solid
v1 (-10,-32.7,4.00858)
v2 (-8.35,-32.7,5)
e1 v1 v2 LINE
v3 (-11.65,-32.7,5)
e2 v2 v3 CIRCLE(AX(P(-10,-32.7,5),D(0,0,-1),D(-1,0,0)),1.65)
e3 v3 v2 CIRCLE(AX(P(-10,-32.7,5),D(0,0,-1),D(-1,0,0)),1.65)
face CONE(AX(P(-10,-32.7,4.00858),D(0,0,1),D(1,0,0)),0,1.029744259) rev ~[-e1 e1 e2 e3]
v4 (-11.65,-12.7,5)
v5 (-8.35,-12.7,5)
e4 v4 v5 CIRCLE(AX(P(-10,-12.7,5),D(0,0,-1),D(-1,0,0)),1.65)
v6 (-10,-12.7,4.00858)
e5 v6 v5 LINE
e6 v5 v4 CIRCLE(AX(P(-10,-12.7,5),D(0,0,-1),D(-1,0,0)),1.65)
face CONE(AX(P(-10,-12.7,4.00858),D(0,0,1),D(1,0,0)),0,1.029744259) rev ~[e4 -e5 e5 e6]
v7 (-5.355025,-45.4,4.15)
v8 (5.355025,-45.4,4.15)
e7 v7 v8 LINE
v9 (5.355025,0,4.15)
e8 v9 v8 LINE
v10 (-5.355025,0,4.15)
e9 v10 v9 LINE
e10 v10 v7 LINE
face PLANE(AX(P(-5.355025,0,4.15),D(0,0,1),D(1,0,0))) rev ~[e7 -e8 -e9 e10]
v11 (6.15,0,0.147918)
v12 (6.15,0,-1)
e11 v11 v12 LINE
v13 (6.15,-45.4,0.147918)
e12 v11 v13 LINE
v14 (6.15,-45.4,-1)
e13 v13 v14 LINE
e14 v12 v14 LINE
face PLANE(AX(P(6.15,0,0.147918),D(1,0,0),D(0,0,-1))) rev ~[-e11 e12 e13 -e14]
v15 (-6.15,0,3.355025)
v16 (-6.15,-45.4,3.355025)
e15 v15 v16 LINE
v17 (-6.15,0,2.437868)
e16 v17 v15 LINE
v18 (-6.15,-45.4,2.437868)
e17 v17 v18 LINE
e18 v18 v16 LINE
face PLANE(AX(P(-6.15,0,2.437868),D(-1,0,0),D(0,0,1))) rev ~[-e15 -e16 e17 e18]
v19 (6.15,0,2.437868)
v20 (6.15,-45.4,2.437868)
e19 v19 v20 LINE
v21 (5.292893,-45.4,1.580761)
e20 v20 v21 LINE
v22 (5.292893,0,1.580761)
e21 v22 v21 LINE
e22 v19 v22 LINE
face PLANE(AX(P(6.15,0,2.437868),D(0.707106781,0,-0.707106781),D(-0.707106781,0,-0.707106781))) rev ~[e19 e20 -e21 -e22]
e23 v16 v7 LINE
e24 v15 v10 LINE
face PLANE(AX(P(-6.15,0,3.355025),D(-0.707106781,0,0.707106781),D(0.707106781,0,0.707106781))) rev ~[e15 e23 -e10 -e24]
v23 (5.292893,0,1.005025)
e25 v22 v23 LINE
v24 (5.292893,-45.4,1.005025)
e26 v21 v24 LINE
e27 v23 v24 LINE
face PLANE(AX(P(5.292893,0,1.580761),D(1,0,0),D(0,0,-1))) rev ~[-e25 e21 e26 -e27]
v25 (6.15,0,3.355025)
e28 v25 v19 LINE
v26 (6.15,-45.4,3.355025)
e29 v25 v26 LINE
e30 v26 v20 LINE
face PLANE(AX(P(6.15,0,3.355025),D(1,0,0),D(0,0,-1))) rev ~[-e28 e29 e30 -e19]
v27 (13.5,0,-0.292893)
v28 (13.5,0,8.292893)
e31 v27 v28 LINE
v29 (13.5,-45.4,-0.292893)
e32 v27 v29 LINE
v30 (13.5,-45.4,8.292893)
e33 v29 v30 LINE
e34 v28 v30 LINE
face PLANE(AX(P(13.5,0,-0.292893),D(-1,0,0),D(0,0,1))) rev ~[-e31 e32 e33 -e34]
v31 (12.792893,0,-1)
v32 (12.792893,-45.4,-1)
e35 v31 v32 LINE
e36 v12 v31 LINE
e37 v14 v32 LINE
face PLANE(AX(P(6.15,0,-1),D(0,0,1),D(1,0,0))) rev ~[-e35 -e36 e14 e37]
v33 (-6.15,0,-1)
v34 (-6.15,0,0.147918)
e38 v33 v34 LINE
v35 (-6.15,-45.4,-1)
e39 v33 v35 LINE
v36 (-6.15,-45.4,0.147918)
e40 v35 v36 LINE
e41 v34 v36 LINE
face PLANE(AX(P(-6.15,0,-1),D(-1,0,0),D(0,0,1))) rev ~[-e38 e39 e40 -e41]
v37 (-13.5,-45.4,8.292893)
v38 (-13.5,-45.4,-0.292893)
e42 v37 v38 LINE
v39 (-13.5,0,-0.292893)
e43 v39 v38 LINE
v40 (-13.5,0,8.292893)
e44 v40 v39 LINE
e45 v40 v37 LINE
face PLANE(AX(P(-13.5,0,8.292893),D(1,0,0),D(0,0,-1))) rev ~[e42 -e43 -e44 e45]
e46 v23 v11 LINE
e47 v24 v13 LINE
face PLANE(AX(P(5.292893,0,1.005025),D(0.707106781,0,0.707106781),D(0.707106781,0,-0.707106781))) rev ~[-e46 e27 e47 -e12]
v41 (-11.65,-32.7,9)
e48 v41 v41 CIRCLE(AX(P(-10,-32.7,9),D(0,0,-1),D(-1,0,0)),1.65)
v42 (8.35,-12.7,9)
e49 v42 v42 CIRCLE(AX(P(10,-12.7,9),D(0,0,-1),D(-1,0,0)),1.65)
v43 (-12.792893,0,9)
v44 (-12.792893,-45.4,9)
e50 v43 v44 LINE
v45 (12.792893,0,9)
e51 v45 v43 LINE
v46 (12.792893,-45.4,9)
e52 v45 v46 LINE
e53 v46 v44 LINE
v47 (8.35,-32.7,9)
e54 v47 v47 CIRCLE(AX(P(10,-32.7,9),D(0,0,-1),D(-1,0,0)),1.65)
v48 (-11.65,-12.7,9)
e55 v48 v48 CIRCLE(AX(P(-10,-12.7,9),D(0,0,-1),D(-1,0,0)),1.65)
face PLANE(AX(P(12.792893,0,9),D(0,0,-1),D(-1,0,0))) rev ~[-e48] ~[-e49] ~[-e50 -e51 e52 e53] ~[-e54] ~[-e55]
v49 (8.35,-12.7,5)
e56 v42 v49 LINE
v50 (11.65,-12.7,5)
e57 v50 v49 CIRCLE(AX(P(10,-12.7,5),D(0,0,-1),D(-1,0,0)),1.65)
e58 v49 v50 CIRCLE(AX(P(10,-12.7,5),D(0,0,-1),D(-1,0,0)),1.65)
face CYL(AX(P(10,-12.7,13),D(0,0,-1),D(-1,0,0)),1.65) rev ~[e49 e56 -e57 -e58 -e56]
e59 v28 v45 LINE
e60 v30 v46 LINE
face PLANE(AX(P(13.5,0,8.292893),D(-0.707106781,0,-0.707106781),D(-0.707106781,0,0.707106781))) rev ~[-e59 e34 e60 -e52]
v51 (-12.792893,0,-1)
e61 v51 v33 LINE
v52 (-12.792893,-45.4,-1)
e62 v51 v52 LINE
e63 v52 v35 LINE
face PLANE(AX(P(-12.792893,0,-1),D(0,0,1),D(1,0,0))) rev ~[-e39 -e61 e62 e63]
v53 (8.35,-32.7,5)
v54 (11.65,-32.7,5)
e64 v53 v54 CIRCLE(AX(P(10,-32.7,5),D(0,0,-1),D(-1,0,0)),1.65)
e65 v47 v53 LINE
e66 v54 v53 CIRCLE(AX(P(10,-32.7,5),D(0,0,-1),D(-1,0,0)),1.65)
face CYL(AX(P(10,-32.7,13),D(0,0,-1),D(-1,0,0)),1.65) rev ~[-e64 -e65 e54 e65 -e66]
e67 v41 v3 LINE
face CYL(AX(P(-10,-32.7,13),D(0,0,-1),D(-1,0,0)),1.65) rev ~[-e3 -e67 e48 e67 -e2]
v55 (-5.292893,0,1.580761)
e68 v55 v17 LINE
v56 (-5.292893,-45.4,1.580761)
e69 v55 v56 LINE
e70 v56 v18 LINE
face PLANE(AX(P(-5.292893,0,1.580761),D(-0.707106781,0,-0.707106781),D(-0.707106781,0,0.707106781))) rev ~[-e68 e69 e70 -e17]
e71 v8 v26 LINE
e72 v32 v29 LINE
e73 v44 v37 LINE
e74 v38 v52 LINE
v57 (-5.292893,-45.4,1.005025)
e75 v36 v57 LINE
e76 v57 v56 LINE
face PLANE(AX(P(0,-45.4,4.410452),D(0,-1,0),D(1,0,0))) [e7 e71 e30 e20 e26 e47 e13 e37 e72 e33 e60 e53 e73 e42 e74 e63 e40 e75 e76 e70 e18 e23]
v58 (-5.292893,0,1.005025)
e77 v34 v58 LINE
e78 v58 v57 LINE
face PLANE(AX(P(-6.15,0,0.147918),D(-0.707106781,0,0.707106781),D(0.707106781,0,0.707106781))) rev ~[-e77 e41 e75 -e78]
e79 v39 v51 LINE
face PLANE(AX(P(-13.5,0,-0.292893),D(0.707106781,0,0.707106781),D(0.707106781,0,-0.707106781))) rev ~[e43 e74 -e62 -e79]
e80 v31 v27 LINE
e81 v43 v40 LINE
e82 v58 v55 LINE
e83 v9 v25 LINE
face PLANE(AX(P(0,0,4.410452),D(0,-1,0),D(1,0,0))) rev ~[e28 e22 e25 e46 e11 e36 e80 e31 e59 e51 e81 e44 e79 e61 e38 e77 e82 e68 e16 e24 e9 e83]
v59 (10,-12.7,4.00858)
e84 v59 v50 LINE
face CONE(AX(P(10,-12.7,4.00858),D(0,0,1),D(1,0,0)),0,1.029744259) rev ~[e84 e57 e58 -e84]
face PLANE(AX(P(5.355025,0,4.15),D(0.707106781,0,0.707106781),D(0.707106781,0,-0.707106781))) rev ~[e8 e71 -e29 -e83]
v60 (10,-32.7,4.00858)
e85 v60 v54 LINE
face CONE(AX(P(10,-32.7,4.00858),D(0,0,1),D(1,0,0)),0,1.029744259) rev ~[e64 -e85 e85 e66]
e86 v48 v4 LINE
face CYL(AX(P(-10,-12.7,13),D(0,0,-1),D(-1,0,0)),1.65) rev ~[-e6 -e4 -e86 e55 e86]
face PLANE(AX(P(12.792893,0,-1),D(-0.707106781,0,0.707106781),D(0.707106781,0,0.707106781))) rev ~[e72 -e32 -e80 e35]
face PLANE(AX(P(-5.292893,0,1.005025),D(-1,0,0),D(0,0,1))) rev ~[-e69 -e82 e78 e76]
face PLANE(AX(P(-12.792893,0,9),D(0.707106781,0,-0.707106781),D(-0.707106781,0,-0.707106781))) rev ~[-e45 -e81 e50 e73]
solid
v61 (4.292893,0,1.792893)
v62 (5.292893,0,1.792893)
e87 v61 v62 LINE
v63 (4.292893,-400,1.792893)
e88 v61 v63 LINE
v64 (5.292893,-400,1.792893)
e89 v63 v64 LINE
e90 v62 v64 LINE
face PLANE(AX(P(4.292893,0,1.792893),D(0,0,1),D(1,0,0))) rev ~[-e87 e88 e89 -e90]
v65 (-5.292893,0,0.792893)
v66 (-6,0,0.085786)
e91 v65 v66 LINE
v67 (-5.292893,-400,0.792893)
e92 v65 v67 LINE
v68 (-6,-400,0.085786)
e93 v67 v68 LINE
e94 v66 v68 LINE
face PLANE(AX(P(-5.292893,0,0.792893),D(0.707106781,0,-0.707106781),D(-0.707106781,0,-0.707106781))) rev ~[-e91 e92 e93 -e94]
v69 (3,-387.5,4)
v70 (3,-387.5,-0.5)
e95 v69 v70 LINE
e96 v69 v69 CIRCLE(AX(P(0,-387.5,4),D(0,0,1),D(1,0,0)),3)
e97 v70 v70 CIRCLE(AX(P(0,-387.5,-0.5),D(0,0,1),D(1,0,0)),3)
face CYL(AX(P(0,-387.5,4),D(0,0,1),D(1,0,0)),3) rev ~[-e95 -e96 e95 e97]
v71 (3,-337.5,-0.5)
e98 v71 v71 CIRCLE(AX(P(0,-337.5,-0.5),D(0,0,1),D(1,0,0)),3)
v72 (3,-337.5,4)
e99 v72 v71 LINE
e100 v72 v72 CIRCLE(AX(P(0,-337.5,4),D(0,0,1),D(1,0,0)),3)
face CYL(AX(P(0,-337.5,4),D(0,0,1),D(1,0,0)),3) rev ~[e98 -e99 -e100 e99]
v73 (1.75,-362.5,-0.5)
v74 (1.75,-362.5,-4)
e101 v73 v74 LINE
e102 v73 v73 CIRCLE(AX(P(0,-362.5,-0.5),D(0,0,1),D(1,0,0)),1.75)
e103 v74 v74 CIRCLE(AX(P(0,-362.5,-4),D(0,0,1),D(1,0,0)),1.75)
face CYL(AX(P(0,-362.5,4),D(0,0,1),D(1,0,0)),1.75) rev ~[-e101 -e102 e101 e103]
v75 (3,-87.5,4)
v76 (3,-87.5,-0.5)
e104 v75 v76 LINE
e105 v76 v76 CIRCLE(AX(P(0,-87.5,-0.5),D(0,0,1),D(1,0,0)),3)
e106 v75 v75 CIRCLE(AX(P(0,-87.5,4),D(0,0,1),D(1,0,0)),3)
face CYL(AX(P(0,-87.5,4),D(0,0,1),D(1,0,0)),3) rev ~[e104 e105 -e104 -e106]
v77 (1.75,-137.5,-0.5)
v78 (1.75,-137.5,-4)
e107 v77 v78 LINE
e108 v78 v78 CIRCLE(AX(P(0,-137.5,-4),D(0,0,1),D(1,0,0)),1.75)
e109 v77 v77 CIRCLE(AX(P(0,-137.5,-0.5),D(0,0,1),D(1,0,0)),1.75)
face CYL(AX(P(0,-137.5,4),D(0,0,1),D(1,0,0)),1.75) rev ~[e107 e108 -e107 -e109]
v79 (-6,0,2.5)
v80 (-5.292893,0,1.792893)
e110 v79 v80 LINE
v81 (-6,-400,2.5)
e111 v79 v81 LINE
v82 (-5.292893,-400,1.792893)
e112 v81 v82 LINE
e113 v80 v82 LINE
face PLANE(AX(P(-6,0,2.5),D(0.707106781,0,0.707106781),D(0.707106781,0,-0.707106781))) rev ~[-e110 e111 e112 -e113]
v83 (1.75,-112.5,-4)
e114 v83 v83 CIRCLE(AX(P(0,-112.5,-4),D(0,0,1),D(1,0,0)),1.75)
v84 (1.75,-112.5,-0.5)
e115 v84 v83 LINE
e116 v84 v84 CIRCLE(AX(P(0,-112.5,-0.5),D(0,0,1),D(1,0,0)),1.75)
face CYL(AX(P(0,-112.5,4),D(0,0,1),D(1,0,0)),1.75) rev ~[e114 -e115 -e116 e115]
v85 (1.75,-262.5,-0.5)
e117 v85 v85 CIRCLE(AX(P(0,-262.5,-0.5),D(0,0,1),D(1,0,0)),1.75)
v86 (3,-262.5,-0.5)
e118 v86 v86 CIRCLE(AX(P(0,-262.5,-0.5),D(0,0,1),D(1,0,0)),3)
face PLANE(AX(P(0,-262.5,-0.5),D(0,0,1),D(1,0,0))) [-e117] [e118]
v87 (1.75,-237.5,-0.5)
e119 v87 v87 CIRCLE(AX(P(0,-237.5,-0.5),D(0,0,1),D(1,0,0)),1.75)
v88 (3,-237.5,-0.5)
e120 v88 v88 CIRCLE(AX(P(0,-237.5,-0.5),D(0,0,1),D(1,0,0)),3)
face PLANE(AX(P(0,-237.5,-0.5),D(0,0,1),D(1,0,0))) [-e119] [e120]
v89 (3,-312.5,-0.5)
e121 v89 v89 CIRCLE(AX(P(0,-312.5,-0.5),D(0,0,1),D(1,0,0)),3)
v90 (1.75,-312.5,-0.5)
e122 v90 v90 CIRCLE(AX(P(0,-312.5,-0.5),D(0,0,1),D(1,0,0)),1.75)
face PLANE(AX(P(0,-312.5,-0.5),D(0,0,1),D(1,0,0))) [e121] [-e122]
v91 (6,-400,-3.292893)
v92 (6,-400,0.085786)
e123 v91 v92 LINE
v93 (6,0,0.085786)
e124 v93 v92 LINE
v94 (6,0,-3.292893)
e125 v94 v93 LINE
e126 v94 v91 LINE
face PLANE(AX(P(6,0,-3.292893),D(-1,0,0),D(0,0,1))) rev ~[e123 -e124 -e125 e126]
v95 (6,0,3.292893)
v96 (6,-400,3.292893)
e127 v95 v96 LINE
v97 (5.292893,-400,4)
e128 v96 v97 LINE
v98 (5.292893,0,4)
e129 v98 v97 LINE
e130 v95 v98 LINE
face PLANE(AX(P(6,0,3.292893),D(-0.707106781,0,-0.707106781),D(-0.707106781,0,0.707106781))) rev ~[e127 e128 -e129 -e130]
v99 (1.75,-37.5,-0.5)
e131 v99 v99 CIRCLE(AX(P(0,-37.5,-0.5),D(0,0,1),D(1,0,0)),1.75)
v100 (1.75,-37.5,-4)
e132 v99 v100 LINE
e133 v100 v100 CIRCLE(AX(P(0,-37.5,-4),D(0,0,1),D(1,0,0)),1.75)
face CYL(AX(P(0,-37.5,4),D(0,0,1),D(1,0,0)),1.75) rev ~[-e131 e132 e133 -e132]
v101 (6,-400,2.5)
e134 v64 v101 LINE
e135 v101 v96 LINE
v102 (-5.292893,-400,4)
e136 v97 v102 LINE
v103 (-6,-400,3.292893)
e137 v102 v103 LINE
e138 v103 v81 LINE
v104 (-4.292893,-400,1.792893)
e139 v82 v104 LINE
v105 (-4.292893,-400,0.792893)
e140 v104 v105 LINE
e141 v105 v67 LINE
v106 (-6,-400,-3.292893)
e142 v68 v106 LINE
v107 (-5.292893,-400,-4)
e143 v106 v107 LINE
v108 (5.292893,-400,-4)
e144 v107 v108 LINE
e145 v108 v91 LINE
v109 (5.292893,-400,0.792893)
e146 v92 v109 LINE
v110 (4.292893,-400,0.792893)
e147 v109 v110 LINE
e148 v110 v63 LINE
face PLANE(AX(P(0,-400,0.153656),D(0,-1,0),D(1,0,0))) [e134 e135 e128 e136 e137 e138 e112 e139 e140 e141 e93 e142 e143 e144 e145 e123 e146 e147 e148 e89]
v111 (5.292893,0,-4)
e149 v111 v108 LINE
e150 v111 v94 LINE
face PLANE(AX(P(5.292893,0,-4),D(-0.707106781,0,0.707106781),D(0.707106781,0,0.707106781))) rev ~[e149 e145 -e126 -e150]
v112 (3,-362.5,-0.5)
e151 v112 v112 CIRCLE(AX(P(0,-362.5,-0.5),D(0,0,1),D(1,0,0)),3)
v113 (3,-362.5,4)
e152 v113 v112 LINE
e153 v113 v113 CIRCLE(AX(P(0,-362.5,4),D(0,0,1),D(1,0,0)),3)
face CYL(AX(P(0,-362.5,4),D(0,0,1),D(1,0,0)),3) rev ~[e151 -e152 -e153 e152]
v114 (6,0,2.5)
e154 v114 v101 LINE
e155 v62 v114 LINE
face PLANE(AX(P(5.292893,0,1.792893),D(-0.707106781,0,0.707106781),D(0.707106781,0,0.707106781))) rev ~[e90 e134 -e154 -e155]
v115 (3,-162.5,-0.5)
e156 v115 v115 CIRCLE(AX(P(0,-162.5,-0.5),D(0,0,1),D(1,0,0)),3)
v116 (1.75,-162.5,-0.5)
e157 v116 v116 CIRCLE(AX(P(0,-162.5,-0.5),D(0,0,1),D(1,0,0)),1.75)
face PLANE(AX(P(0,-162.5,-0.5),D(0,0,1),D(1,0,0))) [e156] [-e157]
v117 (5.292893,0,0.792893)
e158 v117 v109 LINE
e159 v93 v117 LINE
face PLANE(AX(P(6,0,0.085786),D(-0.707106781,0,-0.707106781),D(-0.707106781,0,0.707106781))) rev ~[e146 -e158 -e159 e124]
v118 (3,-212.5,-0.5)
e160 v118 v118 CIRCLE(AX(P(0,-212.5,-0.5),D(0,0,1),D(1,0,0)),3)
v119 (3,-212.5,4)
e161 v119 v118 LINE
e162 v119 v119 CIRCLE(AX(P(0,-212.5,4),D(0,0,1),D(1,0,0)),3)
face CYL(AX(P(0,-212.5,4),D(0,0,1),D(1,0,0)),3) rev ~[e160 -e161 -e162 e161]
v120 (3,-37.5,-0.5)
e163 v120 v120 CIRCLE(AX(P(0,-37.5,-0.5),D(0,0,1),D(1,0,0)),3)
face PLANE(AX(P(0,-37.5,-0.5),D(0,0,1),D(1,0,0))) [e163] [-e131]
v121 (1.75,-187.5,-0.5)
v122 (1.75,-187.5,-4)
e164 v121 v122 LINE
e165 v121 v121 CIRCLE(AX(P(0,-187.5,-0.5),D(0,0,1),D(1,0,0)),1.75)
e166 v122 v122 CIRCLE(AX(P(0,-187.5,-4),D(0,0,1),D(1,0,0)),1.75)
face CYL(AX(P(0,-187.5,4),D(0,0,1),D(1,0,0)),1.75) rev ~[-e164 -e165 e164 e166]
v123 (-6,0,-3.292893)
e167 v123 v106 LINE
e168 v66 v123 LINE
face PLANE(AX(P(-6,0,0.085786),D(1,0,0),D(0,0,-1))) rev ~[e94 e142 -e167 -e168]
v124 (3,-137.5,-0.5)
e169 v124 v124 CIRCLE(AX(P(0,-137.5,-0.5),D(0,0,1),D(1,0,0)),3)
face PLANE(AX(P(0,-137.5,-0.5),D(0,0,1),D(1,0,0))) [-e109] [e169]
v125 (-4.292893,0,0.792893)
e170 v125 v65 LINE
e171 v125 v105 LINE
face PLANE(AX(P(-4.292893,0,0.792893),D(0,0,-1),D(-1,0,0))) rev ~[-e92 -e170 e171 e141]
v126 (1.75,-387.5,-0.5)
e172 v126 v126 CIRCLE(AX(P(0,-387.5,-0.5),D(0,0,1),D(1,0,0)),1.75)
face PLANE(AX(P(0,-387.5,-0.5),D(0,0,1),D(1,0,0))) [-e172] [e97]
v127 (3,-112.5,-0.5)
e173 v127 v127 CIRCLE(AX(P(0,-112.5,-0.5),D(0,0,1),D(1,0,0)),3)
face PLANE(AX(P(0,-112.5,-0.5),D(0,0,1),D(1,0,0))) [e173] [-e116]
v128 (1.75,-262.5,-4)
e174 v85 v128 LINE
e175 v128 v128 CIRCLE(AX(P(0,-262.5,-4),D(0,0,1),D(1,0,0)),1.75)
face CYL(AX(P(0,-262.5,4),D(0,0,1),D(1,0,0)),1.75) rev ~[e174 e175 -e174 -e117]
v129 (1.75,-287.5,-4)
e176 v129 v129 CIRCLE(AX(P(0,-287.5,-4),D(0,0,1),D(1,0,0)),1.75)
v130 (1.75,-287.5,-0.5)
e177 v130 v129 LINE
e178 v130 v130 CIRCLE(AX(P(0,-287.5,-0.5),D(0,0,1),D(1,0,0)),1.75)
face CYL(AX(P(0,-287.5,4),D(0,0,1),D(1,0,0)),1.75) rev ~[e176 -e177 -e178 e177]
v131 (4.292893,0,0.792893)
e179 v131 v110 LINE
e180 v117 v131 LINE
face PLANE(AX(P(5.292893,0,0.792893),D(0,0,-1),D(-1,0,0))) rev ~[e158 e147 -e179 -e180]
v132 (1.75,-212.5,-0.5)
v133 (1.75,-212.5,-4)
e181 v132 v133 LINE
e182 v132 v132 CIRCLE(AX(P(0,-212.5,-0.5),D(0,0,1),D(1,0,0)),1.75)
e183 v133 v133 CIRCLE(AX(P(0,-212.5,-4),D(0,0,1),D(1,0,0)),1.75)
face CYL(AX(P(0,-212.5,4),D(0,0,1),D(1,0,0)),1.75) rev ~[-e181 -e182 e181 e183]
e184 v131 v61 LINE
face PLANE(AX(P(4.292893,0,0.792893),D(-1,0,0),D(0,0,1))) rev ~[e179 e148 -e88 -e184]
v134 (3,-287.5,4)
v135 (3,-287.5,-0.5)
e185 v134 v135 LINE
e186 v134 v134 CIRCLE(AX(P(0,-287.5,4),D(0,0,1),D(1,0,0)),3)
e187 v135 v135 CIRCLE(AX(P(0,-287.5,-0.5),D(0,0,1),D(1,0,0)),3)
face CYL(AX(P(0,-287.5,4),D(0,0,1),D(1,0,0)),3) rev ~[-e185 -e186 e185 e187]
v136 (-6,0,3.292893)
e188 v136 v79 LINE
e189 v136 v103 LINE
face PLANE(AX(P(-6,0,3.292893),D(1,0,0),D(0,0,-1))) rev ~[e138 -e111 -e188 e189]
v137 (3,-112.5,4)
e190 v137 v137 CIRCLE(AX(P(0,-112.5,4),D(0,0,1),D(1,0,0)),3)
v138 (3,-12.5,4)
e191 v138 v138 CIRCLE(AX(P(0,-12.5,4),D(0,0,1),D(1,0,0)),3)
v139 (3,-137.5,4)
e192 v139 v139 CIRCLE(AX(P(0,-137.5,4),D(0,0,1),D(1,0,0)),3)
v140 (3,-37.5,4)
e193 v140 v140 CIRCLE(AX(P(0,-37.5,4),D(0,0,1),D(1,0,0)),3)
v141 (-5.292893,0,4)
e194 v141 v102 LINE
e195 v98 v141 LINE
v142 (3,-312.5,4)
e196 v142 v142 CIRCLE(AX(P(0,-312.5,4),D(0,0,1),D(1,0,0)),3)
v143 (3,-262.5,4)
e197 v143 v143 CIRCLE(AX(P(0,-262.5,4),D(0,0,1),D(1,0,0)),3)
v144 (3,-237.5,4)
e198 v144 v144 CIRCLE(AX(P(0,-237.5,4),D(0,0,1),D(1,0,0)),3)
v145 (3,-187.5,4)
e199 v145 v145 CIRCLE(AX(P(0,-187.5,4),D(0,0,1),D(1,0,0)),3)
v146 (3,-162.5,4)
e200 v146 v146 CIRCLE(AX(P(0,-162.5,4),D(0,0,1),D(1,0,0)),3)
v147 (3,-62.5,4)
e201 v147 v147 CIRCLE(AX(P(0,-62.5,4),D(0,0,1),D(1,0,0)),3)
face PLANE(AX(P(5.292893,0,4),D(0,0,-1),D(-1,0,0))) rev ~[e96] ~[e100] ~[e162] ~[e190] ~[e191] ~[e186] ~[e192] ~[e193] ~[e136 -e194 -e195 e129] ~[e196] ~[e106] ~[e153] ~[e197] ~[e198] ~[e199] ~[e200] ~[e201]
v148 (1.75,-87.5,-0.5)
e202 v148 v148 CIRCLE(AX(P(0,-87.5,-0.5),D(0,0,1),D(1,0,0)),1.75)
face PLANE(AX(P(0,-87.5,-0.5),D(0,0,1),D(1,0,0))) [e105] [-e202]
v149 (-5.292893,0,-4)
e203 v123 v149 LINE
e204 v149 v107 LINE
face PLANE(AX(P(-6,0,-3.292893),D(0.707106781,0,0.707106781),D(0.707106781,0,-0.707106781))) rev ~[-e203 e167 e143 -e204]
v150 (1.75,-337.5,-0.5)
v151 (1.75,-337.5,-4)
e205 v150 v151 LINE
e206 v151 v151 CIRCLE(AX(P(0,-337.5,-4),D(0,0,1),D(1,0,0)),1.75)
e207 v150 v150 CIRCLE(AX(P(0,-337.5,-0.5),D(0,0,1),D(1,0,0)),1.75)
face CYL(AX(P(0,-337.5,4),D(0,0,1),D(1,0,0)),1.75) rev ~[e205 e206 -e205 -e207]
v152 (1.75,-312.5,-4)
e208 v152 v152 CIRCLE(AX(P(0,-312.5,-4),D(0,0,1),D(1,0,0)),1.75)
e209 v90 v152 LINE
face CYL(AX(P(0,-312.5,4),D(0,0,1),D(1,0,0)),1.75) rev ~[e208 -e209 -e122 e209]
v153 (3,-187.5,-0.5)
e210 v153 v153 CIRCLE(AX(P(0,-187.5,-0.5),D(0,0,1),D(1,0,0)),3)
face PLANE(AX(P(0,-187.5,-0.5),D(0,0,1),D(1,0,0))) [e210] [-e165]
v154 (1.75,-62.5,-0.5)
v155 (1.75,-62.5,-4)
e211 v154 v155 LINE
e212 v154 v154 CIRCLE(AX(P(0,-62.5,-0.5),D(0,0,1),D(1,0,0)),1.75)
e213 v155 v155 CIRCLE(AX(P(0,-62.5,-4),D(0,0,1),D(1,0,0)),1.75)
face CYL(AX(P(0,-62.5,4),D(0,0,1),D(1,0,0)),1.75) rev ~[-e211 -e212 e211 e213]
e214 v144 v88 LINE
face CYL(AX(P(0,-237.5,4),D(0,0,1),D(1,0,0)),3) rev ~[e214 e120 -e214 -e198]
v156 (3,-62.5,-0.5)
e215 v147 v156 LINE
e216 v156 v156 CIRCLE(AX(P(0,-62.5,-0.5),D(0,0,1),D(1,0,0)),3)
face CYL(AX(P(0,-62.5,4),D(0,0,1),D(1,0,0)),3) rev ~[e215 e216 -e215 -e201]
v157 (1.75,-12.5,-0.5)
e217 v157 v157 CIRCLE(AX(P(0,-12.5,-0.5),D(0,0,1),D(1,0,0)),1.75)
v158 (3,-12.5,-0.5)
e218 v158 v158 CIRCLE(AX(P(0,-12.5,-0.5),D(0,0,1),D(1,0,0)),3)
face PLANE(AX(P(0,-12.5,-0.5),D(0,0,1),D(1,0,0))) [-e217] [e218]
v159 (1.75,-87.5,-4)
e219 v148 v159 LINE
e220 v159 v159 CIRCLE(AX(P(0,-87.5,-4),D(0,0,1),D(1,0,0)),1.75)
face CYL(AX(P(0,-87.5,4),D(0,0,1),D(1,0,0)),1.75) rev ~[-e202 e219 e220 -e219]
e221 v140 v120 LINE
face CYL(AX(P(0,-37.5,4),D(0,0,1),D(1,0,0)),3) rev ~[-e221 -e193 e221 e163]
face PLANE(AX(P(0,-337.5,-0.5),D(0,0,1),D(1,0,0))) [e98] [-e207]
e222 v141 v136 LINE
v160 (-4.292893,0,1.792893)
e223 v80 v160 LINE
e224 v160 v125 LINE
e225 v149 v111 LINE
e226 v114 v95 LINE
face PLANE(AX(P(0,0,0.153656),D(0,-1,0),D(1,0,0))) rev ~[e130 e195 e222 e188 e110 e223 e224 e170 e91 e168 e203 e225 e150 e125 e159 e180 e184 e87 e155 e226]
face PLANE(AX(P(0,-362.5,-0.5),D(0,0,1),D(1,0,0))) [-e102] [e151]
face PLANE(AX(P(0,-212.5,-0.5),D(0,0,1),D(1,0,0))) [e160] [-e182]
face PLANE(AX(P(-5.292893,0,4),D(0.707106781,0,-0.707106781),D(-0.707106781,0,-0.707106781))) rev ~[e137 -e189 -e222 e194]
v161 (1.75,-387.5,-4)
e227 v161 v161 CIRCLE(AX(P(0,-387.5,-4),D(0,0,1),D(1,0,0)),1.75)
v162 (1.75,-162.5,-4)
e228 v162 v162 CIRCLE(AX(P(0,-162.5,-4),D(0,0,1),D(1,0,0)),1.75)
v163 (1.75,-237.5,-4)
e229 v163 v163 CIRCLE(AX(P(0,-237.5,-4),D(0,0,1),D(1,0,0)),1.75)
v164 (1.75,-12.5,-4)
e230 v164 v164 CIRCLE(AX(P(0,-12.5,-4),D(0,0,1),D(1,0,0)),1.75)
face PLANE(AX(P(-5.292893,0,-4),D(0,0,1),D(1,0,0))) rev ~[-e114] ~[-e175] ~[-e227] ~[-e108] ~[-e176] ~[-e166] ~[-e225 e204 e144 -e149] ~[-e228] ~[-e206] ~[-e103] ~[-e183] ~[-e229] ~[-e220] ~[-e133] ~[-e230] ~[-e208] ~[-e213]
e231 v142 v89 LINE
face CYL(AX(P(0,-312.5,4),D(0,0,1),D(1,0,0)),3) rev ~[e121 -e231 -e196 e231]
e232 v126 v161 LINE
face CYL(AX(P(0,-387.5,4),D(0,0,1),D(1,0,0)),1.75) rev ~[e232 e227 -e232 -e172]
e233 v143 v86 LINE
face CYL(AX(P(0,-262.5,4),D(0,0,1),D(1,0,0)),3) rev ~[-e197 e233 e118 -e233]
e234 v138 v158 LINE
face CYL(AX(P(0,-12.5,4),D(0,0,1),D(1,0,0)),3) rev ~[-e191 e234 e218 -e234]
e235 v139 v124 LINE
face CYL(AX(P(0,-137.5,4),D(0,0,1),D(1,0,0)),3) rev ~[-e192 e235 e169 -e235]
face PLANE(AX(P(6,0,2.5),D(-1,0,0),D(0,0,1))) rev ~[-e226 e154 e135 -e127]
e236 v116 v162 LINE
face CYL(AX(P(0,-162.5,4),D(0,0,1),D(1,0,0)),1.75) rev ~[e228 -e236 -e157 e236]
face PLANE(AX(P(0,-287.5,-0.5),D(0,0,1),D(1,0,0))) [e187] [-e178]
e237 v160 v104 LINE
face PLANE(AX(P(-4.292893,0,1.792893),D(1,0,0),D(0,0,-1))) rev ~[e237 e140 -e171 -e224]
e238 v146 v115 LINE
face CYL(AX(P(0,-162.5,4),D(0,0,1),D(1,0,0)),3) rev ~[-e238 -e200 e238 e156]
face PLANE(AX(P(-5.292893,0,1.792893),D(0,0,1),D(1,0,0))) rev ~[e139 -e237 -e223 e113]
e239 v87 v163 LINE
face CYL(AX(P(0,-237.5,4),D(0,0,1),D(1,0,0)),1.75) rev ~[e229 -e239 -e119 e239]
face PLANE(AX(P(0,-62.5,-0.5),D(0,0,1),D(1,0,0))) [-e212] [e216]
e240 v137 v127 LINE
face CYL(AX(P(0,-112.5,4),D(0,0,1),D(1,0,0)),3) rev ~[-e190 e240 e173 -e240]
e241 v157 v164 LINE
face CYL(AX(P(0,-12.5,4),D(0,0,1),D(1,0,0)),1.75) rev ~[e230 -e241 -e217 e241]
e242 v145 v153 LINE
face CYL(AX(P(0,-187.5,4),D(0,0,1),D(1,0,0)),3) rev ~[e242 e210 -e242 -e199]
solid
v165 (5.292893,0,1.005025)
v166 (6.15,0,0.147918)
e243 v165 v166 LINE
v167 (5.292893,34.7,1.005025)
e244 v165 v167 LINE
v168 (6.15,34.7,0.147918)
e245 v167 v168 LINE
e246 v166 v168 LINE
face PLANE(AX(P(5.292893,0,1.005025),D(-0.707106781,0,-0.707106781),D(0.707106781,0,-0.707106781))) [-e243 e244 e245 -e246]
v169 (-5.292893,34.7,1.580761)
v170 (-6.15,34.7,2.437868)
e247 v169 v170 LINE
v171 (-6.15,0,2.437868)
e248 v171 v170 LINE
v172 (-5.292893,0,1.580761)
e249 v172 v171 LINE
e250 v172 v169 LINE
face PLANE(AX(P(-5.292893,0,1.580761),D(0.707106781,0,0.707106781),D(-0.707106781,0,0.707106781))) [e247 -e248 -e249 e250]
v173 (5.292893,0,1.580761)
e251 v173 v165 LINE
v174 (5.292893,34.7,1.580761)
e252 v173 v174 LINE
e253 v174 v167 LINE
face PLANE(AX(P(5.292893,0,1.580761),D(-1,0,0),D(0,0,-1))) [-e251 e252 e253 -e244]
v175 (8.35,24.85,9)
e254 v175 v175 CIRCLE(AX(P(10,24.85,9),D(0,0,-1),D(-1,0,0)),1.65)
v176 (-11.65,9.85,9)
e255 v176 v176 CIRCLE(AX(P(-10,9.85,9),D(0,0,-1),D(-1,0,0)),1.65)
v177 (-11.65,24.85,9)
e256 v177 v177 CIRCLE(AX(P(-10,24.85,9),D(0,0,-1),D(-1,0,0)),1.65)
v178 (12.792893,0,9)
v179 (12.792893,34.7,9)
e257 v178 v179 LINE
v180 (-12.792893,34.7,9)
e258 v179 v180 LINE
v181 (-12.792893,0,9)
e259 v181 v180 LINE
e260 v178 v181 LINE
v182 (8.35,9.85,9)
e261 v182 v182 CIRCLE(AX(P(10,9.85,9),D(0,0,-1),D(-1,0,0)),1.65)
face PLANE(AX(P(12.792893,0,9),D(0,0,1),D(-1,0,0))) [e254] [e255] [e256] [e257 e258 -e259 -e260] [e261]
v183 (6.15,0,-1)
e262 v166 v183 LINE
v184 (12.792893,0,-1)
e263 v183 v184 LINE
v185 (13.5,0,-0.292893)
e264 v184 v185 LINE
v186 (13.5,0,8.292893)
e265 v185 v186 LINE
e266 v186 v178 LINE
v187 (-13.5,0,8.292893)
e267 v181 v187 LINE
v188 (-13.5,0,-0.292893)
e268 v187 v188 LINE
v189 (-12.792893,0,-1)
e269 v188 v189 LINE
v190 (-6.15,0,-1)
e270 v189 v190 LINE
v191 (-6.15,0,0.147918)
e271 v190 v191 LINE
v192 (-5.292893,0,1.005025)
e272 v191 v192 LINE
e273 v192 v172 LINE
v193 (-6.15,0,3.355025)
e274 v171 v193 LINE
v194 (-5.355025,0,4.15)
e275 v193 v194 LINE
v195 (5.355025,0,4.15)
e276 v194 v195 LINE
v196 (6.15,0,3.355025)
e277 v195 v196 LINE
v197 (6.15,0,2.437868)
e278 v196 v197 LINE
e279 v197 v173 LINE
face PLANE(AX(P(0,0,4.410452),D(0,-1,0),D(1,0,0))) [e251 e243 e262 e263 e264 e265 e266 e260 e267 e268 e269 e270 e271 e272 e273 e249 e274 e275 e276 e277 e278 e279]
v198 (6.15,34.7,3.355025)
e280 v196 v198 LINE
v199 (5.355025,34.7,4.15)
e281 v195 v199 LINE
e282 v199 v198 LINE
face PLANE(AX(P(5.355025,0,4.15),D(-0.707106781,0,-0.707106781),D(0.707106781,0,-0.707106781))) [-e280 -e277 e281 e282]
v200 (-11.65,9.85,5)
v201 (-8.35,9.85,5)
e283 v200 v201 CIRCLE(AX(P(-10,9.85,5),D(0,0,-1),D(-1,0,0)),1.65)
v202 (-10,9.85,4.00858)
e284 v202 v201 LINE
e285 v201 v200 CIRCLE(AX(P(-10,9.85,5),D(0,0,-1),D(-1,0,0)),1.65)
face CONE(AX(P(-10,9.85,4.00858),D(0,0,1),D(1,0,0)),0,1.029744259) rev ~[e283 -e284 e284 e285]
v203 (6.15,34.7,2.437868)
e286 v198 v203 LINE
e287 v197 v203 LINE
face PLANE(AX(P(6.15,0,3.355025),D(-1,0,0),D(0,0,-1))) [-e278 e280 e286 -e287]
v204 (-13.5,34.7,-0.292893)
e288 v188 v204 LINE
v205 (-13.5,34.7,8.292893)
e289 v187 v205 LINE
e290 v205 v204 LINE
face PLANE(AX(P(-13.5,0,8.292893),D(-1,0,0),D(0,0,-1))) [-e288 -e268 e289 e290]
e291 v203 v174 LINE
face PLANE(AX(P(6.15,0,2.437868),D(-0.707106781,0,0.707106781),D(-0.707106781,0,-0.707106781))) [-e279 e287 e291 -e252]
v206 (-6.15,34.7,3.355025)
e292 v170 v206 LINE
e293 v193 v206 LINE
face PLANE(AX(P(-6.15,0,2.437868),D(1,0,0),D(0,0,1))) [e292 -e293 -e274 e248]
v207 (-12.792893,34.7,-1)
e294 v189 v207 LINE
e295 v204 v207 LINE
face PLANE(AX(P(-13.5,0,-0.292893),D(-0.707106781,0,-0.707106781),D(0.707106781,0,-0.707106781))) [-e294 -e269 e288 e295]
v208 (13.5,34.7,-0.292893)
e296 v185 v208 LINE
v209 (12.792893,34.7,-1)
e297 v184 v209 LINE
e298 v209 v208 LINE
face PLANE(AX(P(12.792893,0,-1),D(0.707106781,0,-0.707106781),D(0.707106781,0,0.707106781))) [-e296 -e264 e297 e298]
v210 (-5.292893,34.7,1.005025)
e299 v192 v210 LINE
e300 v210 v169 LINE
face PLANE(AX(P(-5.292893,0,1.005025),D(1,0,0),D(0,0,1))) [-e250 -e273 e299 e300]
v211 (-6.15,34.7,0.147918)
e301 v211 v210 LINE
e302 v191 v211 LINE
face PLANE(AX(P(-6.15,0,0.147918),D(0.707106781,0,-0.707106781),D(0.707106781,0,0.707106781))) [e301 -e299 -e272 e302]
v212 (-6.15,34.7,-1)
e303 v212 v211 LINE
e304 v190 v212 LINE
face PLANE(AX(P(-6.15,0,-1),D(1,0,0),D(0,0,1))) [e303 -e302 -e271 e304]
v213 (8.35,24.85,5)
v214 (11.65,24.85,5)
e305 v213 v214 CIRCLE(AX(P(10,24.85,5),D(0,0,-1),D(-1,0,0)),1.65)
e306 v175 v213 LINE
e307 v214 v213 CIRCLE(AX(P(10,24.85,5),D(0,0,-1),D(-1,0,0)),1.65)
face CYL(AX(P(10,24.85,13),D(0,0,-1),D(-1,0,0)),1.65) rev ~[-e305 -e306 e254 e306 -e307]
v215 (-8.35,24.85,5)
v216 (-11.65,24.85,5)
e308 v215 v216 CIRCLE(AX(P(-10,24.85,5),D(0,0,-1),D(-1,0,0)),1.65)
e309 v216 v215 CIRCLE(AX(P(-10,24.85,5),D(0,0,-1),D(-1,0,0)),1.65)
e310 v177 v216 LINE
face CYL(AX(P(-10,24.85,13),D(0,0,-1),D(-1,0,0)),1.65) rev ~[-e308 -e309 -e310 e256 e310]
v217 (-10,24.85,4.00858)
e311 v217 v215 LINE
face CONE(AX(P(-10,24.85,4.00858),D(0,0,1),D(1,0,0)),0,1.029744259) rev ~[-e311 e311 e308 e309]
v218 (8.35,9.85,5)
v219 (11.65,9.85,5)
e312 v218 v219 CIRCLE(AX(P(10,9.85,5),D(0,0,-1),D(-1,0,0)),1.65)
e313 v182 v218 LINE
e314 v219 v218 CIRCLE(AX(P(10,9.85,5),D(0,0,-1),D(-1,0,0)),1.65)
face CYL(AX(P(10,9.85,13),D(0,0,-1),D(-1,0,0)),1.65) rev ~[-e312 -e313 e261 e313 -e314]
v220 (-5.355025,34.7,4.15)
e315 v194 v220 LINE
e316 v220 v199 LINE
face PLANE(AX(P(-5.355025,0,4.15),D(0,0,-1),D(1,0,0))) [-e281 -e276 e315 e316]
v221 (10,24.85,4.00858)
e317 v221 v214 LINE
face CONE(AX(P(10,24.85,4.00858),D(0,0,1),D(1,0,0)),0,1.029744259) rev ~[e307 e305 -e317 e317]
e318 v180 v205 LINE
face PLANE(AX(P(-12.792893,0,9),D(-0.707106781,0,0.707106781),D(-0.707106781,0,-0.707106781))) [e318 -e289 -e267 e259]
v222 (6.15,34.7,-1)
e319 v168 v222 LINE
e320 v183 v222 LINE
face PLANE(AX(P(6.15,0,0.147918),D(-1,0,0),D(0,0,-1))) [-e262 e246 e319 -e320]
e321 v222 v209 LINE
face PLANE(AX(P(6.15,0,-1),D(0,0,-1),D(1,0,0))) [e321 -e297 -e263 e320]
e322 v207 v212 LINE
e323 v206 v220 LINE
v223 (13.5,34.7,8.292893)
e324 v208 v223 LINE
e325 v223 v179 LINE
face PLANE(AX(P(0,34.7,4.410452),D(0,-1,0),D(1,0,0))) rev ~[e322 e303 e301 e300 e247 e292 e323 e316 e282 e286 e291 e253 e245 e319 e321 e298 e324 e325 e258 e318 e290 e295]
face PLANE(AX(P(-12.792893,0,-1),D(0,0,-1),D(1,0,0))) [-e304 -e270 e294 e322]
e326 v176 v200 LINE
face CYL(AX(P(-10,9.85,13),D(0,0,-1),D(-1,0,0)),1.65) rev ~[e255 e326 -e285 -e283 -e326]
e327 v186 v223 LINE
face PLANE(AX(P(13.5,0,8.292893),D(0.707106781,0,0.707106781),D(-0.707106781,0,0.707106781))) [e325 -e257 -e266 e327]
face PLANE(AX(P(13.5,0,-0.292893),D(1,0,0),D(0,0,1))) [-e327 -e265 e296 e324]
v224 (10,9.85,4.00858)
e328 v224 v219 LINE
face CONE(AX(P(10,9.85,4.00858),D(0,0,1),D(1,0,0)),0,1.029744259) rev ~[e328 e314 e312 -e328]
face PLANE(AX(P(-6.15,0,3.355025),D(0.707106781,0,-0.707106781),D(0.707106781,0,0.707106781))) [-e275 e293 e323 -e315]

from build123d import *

# Parameters (mm, degrees)
F1_DEPTH  = 400
F2_R      = 1.75
F3_DEPTH  = 8.001
F4_R      = 3
F5_DEPTH  = 4.5
F7_DEPTH  = 45.4
F8_DEPTH  = 34.7
F11_D     = 3.3
F11_DEPTH = 4
F11_TIP   = 0.9914200214
F12_D     = 3.3
F12_DEPTH = 4
F12_TIP   = 0.9914200214


with BuildPart() as f1:
    # F0 (on Front) → F1 (new body)
    with BuildSketch(Plane.XZ):
        Polygon((-5.2928932188, -4), (5.2928932188, -4), (6, -3.2928932188), (6, 0.0857864376), (5.2928932188, 0.7928932188), (4.2928932188, 0.7928932188), (4.2928932188, 1.7928932188), (5.2928932188, 1.7928932188), (6, 2.5), (6, 3.2928932188), (5.2928932188, 4), (-5.2928932188, 4), (-6, 3.2928932188), (-6, 2.5), (-5.2928932188, 1.7928932188), (-4.2928932188, 1.7928932188), (-4.2928932188, 0.7928932188), (-5.2928932188, 0.7928932188), (-6, 0.0857864376), (-6, -3.2928932188), align=None)
    extrude(amount=F1_DEPTH)

    # F2 (on face) → F3 (cut, through all)
    with BuildSketch(Plane.XY.offset(4)):
        with Locations((0, -12.5)):
            Circle(F2_R)
        with Locations((0, -37.5)):
            Circle(F2_R)
        with Locations((0, -62.5)):
            Circle(F2_R)
        with Locations((0, -87.5)):
            Circle(F2_R)
        with Locations((0, -112.5)):
            Circle(F2_R)
        with Locations((0, -137.5)):
            Circle(F2_R)
        with Locations((0, -162.5)):
            Circle(F2_R)
        with Locations((0, -187.5)):
            Circle(F2_R)
        with Locations((0, -212.5)):
            Circle(F2_R)
        with Locations((0, -237.5)):
            Circle(F2_R)
        with Locations((0, -262.5)):
            Circle(F2_R)
        with Locations((0, -287.5)):
            Circle(F2_R)
        with Locations((0, -312.5)):
            Circle(F2_R)
        with Locations((0, -337.5)):
            Circle(F2_R)
        with Locations((0, -362.5)):
            Circle(F2_R)
        with Locations((0, -387.5)):
            Circle(F2_R)
    extrude(amount=-F3_DEPTH, mode=Mode.SUBTRACT)

    # F4 (on face) → F5 (cut)
    with BuildSketch(Plane.XY.offset(4)):
        with Locations((0, -12.5)):
            Circle(F4_R)
        with Locations((0, -37.5)):
            Circle(F4_R)
        with Locations((0, -62.5)):
            Circle(F4_R)
        with Locations((0, -87.5)):
            Circle(F4_R)
        with Locations((0, -112.5)):
            Circle(F4_R)
        with Locations((0, -137.5)):
            Circle(F4_R)
        with Locations((0, -162.5)):
            Circle(F4_R)
        with Locations((0, -187.5)):
            Circle(F4_R)
        with Locations((0, -212.5)):
            Circle(F4_R)
        with Locations((0, -237.5)):
            Circle(F4_R)
        with Locations((0, -262.5)):
            Circle(F4_R)
        with Locations((0, -287.5)):
            Circle(F4_R)
        with Locations((0, -312.5)):
            Circle(F4_R)
        with Locations((0, -337.5)):
            Circle(F4_R)
        with Locations((0, -362.5)):
            Circle(F4_R)
        with Locations((0, -387.5)):
            Circle(F4_R)
    extrude(amount=-F5_DEPTH, mode=Mode.SUBTRACT)


with BuildPart() as f7:
    # F6 (on Front) → F7 (new body)
    with BuildSketch(Plane.XZ):
        Polygon((-12.7928932188, -1), (-6.15, -1), (-6.15, 0.147918472), (-5.2928932188, 1.0050252532), (-5.2928932188, 1.5807611845), (-6.15, 2.4378679656), (-6.15, 3.3550252532), (-5.3550252532, 4.15), (0, 4.15), (5.3550252532, 4.15), (6.15, 3.3550252532), (6.15, 2.4378679656), (5.2928932188, 1.5807611845), (5.2928932188, 1.0050252532), (6.15, 0.147918472), (6.15, -1), (12.7928932188, -1), (13.5, -0.2928932188), (13.5, 8.2928932188), (12.7928932188, 9), (0, 9), (-12.7928932188, 9), (-13.5, 8.2928932188), (-13.5, -0.2928932188), align=None)
    extrude(amount=F7_DEPTH)

    # F11
    with Locations(Plane.XY.offset(9)):
        with Locations((-10, -12.7), (10, -12.7), (-10, -32.7), (10, -32.7)):
            Hole(F11_D / 2, depth=F11_DEPTH)
            with Locations((0, 0, -(F11_DEPTH + F11_TIP / 2))):  # 118° drill point
                Cone(0, F11_D / 2, F11_TIP, mode=Mode.SUBTRACT)


with BuildPart() as f8:
    # F6 (on Front) → F8 (new body)
    with BuildSketch(Plane.XZ):
        Polygon((-12.7928932188, -1), (-6.15, -1), (-6.15, 0.147918472), (-5.2928932188, 1.0050252532), (-5.2928932188, 1.5807611845), (-6.15, 2.4378679656), (-6.15, 3.3550252532), (-5.3550252532, 4.15), (0, 4.15), (5.3550252532, 4.15), (6.15, 3.3550252532), (6.15, 2.4378679656), (5.2928932188, 1.5807611845), (5.2928932188, 1.0050252532), (6.15, 0.147918472), (6.15, -1), (12.7928932188, -1), (13.5, -0.2928932188), (13.5, 8.2928932188), (12.7928932188, 9), (0, 9), (-12.7928932188, 9), (-13.5, 8.2928932188), (-13.5, -0.2928932188), align=None)
    extrude(amount=-F8_DEPTH)

    # F12
    with Locations(Plane.XY.offset(9)):
        with Locations((-10, 24.85), (10, 24.85), (10, 9.85), (-10, 9.85)):
            Hole(F12_D / 2, depth=F12_DEPTH)
            with Locations((0, 0, -(F12_DEPTH + F12_TIP / 2))):  # 118° drill point
                Cone(0, F12_D / 2, F12_TIP, mode=Mode.SUBTRACT)


solid = Compound([f1.part, f7.part, f8.part])
